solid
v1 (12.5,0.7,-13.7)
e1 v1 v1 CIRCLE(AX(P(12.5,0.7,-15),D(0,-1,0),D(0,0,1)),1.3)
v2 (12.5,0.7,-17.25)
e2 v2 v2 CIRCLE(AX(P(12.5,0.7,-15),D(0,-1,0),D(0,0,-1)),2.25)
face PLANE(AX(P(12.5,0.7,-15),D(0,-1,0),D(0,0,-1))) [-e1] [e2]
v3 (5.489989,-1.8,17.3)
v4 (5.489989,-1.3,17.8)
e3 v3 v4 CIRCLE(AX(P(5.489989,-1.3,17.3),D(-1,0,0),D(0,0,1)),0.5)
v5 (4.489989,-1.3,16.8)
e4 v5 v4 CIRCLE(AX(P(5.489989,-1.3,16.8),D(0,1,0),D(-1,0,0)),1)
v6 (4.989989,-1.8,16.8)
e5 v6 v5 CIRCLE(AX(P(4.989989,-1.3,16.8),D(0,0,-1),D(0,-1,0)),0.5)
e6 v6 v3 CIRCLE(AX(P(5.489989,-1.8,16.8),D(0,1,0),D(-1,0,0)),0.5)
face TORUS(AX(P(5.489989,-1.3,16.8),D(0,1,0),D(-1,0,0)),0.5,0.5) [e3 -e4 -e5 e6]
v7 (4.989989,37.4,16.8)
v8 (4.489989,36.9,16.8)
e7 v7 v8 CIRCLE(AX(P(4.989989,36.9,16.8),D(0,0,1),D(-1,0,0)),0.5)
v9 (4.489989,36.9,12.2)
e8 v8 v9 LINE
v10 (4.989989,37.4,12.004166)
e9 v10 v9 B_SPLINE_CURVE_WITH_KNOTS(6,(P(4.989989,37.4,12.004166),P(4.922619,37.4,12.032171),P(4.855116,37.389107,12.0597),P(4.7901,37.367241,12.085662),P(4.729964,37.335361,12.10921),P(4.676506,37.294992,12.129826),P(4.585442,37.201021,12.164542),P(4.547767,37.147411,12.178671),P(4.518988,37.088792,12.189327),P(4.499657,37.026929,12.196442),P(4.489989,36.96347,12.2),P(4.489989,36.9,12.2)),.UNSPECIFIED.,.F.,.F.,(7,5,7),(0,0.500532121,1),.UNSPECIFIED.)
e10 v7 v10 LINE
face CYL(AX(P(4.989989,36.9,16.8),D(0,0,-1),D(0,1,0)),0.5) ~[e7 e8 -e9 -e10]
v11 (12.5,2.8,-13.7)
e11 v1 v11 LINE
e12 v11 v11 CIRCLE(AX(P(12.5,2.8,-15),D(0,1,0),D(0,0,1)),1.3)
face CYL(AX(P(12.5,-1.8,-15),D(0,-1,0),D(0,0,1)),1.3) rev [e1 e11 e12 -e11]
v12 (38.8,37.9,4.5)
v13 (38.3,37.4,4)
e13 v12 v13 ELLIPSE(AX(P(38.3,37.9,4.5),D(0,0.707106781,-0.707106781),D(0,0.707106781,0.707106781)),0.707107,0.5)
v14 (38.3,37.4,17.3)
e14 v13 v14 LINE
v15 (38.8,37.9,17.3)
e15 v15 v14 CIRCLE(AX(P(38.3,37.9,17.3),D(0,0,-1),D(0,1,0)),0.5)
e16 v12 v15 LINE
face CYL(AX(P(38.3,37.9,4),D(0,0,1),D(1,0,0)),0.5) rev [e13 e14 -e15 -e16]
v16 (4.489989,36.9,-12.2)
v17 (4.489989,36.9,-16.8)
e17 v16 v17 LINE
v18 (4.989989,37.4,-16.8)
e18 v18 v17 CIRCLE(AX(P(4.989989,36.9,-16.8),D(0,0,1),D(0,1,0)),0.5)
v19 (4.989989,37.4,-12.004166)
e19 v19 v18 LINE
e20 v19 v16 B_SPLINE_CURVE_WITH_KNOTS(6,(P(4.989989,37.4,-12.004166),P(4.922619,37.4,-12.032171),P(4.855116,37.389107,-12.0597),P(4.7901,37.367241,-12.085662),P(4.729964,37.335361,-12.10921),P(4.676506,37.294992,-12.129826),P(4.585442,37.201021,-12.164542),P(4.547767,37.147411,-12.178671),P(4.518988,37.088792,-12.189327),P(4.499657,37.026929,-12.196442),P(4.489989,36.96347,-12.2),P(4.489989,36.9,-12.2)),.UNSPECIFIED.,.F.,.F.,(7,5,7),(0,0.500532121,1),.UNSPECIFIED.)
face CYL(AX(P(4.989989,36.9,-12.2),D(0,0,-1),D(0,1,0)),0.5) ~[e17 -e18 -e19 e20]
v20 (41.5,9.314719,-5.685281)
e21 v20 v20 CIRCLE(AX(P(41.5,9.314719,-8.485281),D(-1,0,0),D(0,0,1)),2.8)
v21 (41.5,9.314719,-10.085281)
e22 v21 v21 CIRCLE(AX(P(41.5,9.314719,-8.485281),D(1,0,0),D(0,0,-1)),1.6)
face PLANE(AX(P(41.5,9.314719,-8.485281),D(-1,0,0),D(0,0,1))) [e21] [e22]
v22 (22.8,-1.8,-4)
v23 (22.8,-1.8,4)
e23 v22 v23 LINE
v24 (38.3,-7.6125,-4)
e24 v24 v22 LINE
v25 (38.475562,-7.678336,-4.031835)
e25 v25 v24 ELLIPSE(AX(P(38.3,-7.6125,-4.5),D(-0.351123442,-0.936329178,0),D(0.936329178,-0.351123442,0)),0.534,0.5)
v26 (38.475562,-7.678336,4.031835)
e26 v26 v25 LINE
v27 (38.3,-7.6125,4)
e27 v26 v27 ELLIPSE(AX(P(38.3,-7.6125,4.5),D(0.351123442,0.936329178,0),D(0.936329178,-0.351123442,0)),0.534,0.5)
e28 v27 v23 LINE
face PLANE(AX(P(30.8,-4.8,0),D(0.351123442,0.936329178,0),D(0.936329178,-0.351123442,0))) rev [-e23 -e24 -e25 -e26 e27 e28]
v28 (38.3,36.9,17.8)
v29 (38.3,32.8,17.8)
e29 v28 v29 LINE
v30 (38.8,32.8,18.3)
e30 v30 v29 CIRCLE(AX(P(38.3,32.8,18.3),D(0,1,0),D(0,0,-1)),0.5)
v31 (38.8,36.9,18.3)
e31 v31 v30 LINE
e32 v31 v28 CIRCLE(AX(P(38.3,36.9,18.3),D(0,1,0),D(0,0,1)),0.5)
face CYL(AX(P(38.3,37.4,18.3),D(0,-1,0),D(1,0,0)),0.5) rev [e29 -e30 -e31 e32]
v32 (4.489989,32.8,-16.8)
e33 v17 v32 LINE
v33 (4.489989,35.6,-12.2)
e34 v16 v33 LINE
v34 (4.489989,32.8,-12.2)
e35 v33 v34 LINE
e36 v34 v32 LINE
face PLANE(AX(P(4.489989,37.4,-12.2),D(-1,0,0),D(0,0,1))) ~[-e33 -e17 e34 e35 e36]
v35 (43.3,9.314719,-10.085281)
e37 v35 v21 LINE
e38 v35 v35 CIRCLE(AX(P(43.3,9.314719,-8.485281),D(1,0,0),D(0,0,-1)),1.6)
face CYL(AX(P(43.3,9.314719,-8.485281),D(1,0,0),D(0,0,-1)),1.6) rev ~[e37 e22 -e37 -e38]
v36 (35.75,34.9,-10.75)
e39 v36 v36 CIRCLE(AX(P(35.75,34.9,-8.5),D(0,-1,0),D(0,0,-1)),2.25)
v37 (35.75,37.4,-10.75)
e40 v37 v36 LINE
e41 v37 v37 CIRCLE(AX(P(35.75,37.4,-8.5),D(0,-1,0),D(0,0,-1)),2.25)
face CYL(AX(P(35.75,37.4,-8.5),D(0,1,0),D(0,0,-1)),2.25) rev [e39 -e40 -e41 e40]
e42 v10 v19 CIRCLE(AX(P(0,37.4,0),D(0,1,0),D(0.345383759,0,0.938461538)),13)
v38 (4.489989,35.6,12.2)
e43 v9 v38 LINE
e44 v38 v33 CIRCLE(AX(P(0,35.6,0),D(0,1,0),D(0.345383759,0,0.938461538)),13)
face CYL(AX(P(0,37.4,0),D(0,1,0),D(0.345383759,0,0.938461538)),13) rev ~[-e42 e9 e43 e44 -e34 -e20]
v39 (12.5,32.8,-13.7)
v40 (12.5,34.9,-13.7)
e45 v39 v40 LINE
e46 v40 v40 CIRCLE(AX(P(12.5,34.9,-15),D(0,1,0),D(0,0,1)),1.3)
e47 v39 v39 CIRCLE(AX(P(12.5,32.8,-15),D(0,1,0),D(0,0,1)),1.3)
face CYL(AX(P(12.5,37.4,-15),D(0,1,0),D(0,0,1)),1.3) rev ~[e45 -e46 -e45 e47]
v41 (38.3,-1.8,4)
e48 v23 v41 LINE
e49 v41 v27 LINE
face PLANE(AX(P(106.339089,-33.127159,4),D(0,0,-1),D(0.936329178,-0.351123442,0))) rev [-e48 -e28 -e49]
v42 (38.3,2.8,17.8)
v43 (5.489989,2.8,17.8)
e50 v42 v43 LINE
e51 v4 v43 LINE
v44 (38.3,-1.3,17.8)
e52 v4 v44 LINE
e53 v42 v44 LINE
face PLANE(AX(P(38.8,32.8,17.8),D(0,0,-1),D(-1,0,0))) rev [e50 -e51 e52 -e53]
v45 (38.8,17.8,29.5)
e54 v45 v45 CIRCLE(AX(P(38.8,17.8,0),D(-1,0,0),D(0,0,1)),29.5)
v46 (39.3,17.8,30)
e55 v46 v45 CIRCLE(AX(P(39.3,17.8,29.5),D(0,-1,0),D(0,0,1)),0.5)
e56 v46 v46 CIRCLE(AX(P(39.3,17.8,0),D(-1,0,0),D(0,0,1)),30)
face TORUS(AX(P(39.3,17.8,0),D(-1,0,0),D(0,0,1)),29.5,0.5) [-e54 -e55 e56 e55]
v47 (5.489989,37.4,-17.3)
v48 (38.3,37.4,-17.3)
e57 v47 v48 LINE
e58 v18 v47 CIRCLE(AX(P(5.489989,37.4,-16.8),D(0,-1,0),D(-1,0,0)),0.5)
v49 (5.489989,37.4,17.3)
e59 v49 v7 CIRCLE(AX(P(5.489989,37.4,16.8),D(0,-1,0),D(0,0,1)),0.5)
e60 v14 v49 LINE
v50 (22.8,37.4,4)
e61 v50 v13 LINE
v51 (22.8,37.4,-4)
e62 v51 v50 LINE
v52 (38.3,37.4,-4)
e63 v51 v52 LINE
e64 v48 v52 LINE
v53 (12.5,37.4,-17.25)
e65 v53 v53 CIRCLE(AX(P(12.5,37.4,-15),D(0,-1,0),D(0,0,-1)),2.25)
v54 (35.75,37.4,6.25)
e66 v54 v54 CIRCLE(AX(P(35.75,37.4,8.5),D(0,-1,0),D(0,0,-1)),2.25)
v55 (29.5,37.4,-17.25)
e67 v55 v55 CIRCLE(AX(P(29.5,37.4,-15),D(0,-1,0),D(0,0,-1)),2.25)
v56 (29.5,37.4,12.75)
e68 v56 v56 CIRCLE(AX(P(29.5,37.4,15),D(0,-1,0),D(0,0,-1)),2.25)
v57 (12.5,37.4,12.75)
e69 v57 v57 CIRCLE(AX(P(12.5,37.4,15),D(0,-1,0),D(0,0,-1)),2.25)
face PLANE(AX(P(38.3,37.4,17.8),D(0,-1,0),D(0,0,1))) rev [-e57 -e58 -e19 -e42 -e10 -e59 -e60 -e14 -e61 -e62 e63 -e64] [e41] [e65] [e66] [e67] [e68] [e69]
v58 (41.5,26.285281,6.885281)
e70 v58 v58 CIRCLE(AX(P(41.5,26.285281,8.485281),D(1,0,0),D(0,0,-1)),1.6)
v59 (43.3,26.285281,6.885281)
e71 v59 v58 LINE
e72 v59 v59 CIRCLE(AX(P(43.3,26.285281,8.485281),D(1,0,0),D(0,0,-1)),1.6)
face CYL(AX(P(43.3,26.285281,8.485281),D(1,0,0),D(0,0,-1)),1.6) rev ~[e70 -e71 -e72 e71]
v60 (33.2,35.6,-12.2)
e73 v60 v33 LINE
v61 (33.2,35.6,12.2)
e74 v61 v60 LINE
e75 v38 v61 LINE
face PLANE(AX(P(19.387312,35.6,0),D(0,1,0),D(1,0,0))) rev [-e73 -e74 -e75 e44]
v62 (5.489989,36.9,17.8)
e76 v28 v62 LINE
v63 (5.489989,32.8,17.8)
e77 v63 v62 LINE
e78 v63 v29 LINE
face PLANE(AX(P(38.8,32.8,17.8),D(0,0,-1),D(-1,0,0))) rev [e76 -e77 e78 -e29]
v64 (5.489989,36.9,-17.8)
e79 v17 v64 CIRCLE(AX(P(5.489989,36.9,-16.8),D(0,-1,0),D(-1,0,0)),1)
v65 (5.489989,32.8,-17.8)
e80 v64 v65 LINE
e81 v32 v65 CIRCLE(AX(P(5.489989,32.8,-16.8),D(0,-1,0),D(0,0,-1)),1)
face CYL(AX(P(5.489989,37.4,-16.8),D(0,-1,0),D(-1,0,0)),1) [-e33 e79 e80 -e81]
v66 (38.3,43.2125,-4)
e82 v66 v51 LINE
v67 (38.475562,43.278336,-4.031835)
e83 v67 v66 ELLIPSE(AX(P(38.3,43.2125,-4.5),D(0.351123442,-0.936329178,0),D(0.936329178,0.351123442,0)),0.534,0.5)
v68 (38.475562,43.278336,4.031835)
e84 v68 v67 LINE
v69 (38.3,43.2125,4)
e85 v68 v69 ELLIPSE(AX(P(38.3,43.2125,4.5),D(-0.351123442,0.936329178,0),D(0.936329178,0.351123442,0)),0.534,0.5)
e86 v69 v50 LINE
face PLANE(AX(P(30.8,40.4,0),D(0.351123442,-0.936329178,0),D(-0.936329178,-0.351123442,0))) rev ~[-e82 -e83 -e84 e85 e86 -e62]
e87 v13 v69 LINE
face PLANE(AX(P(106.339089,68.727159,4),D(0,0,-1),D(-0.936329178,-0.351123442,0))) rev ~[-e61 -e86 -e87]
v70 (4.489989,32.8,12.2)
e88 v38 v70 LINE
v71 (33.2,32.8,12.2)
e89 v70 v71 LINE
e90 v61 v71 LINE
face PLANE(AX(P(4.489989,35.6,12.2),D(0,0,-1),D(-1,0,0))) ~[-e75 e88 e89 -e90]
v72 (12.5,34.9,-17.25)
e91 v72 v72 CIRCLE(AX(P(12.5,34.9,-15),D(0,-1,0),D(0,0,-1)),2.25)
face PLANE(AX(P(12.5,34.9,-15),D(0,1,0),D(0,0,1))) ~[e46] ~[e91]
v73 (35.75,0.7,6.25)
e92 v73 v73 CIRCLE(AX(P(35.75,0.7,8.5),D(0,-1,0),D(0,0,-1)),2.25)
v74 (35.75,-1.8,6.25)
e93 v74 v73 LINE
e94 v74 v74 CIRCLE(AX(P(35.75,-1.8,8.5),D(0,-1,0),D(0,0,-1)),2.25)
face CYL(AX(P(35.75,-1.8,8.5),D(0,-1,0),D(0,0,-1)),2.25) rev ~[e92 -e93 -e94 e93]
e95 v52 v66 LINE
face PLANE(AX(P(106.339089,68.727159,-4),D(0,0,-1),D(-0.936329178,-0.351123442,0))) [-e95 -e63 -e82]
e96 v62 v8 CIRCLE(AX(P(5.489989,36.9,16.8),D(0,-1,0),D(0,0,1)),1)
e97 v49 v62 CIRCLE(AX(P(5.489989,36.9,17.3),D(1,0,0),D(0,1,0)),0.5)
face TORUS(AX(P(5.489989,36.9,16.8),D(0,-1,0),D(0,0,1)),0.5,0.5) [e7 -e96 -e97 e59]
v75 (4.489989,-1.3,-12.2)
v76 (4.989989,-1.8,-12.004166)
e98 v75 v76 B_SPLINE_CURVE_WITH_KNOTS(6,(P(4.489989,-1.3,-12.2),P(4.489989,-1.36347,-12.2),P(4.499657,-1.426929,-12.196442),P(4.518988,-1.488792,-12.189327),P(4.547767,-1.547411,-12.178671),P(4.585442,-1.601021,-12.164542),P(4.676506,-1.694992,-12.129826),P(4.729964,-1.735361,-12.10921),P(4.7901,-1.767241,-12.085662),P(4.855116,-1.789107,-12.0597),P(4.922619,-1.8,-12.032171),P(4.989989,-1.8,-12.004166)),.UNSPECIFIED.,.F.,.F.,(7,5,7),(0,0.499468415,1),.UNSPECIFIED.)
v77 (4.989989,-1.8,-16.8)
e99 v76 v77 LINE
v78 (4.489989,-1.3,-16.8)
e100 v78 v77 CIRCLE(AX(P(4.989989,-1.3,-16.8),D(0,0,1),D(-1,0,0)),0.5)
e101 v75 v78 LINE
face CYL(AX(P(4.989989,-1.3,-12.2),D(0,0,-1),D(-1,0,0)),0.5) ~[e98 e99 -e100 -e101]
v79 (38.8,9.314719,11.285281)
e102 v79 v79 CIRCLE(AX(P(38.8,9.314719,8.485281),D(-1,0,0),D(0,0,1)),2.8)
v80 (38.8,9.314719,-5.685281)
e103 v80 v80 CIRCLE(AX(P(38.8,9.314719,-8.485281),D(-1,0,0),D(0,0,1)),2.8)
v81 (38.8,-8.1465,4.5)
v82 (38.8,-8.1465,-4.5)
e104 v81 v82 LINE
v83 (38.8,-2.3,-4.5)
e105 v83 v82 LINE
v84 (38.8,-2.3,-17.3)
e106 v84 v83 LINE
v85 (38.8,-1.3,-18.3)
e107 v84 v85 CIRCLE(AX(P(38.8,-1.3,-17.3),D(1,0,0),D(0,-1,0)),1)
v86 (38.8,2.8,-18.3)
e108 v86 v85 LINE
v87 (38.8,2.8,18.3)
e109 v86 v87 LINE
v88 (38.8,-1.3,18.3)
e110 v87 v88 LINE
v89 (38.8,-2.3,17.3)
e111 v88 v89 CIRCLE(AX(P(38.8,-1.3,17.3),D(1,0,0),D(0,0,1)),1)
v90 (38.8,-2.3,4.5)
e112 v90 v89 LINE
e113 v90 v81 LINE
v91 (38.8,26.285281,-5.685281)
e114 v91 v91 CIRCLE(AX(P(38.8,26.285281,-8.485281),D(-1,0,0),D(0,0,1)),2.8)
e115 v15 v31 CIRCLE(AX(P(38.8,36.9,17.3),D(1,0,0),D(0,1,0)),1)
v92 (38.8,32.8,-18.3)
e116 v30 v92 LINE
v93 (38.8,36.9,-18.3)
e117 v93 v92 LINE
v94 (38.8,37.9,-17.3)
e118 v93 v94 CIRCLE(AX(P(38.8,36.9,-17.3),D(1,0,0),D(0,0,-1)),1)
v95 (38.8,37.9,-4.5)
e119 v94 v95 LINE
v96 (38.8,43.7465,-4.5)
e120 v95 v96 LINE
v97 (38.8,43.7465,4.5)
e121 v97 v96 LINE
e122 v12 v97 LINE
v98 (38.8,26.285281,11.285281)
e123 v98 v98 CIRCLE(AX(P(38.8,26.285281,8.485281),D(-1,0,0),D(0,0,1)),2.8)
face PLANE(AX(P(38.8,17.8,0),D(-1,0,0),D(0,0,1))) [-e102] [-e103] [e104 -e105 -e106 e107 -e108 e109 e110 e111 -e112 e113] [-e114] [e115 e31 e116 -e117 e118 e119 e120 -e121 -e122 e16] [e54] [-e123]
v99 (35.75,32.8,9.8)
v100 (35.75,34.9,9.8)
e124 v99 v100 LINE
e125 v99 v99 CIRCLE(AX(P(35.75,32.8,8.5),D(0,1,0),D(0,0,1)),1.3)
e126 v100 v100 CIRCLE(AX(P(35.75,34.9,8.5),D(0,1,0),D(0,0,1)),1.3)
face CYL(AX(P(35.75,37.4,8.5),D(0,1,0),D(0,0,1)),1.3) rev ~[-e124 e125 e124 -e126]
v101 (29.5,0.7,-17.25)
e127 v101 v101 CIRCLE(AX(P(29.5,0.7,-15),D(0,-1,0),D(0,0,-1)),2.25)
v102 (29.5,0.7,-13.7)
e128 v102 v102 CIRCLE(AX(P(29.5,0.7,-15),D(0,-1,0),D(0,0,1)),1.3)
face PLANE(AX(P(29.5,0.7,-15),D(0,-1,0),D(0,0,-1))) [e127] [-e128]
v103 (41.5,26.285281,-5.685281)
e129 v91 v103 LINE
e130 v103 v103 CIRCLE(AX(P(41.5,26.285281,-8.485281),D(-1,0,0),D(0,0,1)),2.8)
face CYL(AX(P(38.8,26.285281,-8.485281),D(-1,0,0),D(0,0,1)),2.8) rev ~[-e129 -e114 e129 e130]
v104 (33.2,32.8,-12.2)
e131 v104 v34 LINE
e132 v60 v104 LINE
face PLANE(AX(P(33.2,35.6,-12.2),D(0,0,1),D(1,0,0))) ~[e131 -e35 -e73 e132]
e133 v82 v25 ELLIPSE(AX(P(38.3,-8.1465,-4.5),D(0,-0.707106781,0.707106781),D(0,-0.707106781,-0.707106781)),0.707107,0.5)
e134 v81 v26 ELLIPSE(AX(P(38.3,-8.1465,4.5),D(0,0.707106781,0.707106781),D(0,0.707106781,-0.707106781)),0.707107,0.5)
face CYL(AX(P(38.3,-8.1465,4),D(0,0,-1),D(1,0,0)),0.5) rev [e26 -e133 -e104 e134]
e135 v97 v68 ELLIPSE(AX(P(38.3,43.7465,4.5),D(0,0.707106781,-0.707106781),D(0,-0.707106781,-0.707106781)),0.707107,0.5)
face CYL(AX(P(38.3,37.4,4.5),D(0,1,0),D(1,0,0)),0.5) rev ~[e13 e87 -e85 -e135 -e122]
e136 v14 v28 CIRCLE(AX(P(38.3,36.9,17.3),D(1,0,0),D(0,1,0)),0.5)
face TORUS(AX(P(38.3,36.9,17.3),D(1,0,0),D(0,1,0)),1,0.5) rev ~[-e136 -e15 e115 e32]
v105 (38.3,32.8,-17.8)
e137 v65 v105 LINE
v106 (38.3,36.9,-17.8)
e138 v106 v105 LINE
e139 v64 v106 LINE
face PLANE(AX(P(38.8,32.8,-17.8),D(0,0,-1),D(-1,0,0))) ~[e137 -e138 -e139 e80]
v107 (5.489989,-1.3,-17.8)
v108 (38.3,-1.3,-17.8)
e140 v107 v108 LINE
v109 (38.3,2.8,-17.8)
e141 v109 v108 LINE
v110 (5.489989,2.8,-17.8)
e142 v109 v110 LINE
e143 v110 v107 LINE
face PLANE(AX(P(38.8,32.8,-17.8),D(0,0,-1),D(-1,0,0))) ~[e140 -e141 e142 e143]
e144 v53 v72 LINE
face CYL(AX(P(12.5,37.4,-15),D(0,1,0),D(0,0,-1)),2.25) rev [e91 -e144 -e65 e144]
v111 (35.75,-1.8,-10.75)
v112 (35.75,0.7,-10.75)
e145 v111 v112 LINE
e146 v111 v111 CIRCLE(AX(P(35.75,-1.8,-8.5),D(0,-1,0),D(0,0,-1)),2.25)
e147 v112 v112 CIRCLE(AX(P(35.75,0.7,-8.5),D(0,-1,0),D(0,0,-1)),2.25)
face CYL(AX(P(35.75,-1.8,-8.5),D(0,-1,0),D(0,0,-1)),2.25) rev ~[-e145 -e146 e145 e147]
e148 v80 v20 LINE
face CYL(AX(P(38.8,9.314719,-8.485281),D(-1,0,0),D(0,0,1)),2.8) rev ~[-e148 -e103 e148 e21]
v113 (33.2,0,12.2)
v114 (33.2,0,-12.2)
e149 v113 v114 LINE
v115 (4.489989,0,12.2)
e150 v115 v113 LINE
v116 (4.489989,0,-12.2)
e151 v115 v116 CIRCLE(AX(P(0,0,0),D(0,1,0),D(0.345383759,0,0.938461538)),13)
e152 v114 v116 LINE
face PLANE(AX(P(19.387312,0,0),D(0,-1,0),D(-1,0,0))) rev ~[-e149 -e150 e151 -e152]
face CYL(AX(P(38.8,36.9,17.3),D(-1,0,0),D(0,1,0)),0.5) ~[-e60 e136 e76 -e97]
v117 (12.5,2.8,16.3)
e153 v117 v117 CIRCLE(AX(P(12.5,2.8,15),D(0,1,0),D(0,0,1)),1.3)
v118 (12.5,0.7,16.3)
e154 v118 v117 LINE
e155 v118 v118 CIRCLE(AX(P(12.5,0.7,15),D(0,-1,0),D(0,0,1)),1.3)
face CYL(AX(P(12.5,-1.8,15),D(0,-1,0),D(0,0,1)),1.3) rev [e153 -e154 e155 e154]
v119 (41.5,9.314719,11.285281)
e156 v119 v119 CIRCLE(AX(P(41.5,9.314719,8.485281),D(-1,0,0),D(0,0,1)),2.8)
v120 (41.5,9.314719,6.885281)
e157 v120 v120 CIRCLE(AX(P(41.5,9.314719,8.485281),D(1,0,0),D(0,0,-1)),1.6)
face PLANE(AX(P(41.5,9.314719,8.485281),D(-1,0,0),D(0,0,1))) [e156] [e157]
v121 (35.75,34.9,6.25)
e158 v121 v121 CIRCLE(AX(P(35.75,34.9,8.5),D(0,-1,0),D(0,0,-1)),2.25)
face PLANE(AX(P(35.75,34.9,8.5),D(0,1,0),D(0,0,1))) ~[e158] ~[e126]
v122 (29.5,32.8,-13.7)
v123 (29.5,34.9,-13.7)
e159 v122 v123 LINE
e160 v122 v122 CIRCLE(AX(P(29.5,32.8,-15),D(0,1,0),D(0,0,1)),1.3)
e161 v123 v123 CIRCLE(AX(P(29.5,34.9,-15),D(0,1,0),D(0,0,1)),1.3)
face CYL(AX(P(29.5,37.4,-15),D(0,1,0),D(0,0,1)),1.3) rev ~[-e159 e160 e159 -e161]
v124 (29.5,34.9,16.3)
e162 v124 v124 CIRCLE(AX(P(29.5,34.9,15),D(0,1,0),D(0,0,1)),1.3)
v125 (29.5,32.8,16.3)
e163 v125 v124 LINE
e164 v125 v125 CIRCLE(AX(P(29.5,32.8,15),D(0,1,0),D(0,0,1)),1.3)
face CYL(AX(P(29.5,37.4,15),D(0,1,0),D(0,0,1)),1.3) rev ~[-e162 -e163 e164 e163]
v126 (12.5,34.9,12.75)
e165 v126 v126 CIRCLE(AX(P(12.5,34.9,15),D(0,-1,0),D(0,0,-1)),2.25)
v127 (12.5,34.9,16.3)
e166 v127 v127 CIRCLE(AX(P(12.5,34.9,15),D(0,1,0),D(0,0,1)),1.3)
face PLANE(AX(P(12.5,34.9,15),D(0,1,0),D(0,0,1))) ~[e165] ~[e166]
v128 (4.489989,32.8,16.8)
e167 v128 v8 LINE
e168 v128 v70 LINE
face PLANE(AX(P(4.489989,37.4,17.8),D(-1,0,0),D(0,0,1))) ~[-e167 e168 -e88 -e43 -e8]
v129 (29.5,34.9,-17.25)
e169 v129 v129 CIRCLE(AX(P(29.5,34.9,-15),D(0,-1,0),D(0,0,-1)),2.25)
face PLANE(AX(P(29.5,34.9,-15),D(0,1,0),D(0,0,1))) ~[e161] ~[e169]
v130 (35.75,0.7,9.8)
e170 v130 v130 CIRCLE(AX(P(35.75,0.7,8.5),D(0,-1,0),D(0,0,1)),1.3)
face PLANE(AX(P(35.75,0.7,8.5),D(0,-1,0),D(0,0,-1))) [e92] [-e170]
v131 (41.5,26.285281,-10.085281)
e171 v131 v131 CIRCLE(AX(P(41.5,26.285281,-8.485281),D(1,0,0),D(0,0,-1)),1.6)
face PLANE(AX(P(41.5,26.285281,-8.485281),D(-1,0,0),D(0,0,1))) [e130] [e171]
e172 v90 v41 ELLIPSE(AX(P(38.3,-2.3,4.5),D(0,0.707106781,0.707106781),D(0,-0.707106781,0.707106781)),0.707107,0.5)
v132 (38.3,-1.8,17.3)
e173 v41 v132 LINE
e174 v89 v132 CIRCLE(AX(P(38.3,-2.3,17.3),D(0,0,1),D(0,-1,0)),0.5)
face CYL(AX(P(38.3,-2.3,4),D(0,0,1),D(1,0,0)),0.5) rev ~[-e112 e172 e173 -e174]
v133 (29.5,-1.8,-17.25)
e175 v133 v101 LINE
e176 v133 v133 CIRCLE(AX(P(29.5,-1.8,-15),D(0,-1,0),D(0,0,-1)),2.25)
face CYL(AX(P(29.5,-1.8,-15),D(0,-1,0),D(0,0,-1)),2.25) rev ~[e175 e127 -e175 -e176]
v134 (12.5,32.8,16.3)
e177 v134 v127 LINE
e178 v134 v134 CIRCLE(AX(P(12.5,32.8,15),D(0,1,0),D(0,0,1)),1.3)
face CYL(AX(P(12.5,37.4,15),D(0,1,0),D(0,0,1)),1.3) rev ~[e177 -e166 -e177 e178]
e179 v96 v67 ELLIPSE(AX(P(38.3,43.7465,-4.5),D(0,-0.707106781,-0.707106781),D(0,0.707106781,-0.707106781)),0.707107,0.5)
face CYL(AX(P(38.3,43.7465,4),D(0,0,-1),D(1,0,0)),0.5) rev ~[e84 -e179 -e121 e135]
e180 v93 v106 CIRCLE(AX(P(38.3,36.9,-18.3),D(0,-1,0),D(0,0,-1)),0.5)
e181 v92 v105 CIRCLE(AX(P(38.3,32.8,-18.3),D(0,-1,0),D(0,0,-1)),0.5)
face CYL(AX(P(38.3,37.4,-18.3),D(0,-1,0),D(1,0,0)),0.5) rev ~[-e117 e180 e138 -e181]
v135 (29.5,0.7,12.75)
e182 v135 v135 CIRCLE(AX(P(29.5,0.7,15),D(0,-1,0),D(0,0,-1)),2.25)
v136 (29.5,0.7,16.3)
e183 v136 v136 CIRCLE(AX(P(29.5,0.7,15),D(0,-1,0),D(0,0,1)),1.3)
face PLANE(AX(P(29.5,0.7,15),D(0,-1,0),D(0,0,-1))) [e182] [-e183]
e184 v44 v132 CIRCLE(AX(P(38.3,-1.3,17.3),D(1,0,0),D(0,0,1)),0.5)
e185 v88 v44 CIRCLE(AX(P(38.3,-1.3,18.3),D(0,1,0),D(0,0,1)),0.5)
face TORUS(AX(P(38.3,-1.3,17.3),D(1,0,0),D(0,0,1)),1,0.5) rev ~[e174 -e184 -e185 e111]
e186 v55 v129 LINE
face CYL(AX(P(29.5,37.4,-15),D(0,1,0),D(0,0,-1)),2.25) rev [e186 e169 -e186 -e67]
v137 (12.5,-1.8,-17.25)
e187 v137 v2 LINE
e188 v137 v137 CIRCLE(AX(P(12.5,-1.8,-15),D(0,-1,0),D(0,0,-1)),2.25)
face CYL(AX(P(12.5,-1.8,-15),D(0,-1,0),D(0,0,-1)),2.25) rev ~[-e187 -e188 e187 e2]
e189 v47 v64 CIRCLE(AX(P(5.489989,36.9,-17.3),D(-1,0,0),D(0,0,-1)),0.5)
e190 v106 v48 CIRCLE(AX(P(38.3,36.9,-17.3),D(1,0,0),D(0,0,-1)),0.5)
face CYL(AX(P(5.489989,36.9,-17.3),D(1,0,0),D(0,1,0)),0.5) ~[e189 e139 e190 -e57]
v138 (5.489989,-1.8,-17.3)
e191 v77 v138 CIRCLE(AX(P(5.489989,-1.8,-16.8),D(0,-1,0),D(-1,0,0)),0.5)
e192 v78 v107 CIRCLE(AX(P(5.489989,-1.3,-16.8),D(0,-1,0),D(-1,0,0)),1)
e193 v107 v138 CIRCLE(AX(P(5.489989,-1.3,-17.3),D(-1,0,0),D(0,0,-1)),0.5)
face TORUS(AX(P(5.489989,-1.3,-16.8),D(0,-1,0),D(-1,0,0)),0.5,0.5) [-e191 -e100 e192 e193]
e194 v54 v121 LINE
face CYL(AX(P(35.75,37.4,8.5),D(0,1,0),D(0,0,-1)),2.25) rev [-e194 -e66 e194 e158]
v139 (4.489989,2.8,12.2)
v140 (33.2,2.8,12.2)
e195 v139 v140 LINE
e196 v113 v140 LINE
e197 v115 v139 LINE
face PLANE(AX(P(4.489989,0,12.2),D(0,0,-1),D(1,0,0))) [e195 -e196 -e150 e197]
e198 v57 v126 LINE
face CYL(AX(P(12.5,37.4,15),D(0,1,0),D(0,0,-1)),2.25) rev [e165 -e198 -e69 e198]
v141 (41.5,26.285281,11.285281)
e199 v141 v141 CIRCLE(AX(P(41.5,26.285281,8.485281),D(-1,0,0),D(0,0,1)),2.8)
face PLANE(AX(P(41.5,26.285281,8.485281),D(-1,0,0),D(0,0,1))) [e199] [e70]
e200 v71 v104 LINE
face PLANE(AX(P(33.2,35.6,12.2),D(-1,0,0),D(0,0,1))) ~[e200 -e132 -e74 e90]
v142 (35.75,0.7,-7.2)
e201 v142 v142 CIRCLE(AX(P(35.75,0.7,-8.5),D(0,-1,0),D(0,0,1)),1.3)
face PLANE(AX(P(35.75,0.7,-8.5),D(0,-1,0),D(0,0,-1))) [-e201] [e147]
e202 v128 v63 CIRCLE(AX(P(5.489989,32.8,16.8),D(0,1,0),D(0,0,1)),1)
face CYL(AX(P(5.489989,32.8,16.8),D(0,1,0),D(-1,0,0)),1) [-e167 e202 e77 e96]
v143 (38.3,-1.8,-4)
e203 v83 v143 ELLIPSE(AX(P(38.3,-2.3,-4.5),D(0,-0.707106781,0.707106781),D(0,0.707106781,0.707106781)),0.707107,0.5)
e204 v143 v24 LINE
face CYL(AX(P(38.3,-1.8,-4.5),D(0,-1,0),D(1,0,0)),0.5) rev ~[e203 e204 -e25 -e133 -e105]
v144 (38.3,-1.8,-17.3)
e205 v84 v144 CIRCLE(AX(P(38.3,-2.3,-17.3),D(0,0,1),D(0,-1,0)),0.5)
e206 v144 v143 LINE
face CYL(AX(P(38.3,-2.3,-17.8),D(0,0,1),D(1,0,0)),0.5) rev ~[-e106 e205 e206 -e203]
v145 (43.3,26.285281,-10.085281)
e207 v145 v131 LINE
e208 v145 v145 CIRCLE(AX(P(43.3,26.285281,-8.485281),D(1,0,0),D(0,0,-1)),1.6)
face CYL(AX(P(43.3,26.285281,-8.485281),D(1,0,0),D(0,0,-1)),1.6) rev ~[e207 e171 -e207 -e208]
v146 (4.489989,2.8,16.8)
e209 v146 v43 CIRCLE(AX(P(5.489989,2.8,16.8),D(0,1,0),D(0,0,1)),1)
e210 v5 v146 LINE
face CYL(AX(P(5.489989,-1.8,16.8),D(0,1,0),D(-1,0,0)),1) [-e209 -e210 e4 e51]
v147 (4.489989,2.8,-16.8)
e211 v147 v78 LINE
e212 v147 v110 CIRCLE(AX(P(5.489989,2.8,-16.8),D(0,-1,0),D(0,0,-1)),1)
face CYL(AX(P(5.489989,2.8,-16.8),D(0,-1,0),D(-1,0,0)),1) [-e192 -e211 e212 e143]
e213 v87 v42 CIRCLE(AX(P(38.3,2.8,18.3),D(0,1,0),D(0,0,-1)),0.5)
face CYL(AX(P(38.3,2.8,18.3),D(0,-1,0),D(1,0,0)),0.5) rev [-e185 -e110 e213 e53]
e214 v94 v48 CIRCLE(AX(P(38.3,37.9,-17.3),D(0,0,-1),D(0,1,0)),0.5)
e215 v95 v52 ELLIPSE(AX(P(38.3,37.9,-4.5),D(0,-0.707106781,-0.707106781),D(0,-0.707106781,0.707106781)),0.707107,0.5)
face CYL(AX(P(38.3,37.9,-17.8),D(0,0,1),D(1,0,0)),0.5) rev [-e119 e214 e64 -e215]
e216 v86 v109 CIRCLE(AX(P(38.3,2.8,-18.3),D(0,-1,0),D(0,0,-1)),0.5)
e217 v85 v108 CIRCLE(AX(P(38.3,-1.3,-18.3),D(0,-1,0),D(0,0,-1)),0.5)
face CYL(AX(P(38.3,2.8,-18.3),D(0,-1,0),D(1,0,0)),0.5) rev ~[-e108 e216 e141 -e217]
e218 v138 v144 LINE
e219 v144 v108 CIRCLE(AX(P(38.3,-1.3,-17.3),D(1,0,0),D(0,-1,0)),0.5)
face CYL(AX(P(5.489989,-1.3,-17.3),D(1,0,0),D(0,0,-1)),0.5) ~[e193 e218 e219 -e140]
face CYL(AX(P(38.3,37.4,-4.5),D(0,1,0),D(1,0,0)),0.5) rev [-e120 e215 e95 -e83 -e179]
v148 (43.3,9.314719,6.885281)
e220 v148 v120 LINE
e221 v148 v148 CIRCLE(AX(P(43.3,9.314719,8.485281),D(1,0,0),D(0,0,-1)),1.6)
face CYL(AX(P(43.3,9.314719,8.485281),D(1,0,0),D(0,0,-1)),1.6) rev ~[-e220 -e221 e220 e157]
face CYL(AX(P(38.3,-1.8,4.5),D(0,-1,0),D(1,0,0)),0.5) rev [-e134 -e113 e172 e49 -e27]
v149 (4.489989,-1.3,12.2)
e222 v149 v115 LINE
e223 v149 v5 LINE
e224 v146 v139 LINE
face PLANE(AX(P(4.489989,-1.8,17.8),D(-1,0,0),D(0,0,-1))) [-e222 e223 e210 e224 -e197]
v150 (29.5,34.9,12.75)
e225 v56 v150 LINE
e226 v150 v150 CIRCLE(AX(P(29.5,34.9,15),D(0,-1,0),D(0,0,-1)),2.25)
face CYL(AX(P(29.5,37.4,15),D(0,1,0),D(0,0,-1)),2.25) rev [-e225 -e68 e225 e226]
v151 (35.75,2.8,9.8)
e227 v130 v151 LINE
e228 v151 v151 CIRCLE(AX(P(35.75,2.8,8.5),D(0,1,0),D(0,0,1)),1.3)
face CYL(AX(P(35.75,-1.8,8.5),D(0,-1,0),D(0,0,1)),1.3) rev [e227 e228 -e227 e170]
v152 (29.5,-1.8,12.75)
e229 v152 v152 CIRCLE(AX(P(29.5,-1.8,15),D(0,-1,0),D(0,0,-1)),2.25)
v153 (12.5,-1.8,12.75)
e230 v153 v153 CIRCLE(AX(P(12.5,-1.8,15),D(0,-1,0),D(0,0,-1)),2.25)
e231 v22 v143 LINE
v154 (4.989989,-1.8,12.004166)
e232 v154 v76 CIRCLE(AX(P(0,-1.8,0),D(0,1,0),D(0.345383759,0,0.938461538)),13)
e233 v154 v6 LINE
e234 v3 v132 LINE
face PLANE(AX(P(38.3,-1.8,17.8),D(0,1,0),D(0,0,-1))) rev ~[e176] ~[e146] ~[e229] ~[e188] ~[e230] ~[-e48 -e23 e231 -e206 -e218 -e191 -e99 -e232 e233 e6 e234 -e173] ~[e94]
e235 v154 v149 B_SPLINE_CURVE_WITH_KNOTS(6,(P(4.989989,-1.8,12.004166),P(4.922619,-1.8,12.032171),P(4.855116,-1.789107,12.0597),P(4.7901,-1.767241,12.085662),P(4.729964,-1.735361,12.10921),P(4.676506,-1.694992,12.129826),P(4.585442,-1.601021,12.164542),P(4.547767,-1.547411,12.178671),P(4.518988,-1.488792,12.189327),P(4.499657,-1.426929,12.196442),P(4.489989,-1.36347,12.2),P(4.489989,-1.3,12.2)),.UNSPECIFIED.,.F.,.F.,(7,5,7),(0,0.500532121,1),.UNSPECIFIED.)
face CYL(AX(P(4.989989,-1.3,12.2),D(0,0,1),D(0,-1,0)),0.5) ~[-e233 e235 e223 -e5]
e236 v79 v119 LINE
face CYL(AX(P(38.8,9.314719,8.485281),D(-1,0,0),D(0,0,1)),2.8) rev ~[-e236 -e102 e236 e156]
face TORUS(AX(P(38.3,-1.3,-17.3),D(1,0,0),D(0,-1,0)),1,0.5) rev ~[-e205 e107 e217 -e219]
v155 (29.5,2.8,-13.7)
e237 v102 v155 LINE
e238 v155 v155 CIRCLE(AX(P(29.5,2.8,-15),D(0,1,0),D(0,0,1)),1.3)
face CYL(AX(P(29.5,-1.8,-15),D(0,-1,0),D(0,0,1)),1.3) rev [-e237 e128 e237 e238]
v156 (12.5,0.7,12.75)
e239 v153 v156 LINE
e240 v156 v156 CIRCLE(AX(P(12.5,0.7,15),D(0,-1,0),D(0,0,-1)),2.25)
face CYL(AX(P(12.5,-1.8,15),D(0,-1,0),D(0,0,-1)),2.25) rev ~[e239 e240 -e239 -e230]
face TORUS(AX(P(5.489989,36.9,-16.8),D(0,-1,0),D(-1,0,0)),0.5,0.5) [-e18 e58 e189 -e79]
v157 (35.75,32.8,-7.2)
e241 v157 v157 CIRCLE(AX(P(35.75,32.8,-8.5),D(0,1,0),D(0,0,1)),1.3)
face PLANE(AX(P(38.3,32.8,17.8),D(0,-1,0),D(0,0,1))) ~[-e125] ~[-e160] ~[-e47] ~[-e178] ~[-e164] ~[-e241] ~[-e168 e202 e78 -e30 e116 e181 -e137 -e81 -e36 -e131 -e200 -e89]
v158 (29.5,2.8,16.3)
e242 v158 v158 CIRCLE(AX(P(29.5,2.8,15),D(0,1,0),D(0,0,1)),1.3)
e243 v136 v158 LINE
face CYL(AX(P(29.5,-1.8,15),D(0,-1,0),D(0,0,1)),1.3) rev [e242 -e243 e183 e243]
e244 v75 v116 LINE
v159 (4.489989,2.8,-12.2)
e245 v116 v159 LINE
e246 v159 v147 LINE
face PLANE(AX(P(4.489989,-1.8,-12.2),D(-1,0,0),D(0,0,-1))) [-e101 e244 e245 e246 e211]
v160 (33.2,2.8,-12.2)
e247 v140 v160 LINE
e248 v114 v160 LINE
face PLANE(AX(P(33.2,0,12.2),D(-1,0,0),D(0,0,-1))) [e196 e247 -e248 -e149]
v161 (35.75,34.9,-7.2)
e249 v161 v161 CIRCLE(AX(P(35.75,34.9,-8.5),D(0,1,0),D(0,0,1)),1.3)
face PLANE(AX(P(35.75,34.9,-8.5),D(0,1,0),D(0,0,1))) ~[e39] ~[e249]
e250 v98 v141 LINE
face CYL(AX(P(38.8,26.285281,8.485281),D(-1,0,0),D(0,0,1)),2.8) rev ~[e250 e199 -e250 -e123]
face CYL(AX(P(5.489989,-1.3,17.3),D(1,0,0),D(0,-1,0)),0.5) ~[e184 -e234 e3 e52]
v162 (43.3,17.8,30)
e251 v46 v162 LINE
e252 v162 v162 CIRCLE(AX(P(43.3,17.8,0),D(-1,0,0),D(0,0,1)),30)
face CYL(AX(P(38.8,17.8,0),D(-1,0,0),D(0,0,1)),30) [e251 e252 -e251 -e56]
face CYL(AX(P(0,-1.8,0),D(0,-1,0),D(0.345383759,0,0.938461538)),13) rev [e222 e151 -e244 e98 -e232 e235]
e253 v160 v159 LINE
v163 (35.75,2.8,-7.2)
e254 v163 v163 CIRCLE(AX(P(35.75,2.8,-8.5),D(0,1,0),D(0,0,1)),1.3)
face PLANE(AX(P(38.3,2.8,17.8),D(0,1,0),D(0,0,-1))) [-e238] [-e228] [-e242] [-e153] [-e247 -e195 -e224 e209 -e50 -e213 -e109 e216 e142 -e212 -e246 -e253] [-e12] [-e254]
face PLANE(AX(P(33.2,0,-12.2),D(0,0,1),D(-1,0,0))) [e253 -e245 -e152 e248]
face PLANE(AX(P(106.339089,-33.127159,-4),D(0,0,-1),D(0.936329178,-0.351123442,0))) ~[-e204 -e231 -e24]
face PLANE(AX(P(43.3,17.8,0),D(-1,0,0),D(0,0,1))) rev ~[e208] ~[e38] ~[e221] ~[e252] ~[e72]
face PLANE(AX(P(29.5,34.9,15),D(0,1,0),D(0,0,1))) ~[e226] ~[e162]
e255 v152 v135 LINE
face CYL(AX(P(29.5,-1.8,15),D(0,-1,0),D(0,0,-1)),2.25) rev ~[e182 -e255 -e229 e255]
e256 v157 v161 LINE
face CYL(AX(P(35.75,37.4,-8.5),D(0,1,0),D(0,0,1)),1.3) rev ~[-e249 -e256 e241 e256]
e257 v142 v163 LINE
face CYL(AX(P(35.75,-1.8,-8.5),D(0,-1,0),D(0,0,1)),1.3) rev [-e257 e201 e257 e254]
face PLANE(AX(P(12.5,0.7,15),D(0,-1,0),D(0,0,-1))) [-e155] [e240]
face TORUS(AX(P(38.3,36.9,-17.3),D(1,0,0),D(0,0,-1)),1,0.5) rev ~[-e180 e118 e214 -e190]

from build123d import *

# Parameters (mm, degrees)
SKETCH1_R           = 1.3
BOSS_EXTRUDE1_DEPTH = 2.8
BOSS_EXTRUDE2_START = -1.8
SKETCH2_R           = 1.3
BOSS_EXTRUDE2_DEPTH = 1.8
SKETCH3_R           = 2.25
CUT_EXTRUDE1_DEPTH  = 2.5
SKETCH4_W           = 35.6
SKETCH4_H           = 4.6
BOSS_EXTRUDE3_DEPTH = 5
SKETCH5_W           = 4.5
SKETCH5_H           = 35.6
BOSS_EXTRUDE4_DEPTH = 15
FILLET1_R           = 1
CUT_EXTRUDE4_DEPTH  = 3.5
SKETCH10_R          = 30
BOSS_EXTRUDE6_DEPTH = 4.5
SKETCH6_R           = 1.6
CUT_EXTRUDE2_DEPTH  = 69.491291157
SKETCH8_R           = 2.8
CUT_EXTRUDE3_DEPTH  = 2.7
RIB1_REACH          = 73.132
SKETCH11_WALL_W     = 161.35156572
SKETCH11_WALL_H     = 8
FILLET2_R           = 0.5
FILLET3_R           = 0.5


with BuildPart() as part:
    # Sketch1 → Boss-Extrude1 (new body)
    with BuildSketch(Plane(origin=(0, 0, 0), x_dir=(1, 0, 0), z_dir=(0, 1, 0))):
        Polygon((4.489988864, 12.2), (4.489988864, 17.8), (38.3, 17.8), (38.3, -17.8), (4.489988864, -17.8), (4.489988864, -12.2), (33.2, -12.2), (33.2, 12.2), align=None)
        with Locations(Location((12.5, 15, 0), (0, 0, 270))):
            Circle(SKETCH1_R, mode=Mode.SUBTRACT)
        with Locations(Location((29.5, 15, 0), (0, 0, 270))):
            Circle(SKETCH1_R, mode=Mode.SUBTRACT)
        with Locations(Location((12.5, -15, 0), (0, 0, 270))):
            Circle(SKETCH1_R, mode=Mode.SUBTRACT)
        with Locations(Location((29.5, -15, 0), (0, 0, 270))):
            Circle(SKETCH1_R, mode=Mode.SUBTRACT)
        with Locations(Location((35.75, -8.5, 0), (0, 0, 270))):
            Circle(SKETCH1_R, mode=Mode.SUBTRACT)
        with Locations(Location((35.75, 8.5, 0), (0, 0, 270))):
            Circle(SKETCH1_R, mode=Mode.SUBTRACT)
    boss_extrude1 = extrude(amount=BOSS_EXTRUDE1_DEPTH)

    # Sketch2 → Boss-Extrude2 (add)
    # profile 1 of 2: a face of its own
    with BuildSketch(Plane(origin=(0, 0, 0), x_dir=(1, 0, 0), z_dir=(0, 1, 0)).offset(BOSS_EXTRUDE2_START)):
        with BuildLine():
            ThreePointArc((4.489988864, -12.2), (13, 0), (4.489988864, 12.2))
            Line((4.489988864, 12.2), (33.2, 12.2))
            Line((33.2, 12.2), (33.2, -12.2))
            Line((33.2, -12.2), (4.489988864, -12.2))
        make_face()
    # profile 2 of 2: a face of its own
    with BuildSketch(Plane(origin=(0, 0, 0), x_dir=(1, 0, 0), z_dir=(0, 1, 0)).offset(BOSS_EXTRUDE2_START)):
        Polygon((4.489988864, 12.2), (4.489988864, 17.8), (38.3, 17.8), (38.3, -17.8), (4.489988864, -17.8), (4.489988864, -12.2), (33.2, -12.2), (33.2, 12.2), align=None)
        with Locations(Location((12.5, -15, 0), (0, 0, 270))):
            Circle(SKETCH2_R, mode=Mode.SUBTRACT)
        with Locations(Location((29.5, -15, 0), (0, 0, 270))):
            Circle(SKETCH2_R, mode=Mode.SUBTRACT)
        with Locations(Location((35.75, -8.5, 0), (0, 0, 270))):
            Circle(SKETCH2_R, mode=Mode.SUBTRACT)
        with Locations(Location((35.75, 8.5, 0), (0, 0, 270))):
            Circle(SKETCH2_R, mode=Mode.SUBTRACT)
        with Locations(Location((29.5, 15, 0), (0, 0, 270))):
            Circle(SKETCH2_R, mode=Mode.SUBTRACT)
        with Locations(Location((12.5, 15, 0), (0, 0, 270))):
            Circle(SKETCH2_R, mode=Mode.SUBTRACT)
    boss_extrude2 = extrude(amount=BOSS_EXTRUDE2_DEPTH)

    # Sketch3 → Cut-Extrude1 (cut)
    with BuildSketch(Plane.XZ.offset(1.8)):
        with Locations(Location((12.5, 15, 0), (0, 0, 270))):
            Circle(SKETCH3_R)
        with Locations(Location((29.5, 15, 0), (0, 0, 270))):
            Circle(SKETCH3_R)
        with Locations(Location((29.5, -15, 0), (0, 0, 270))):
            Circle(SKETCH3_R)
        with Locations(Location((12.5, -15, 0), (0, 0, 270))):
            Circle(SKETCH3_R)
        with Locations(Location((35.75, 8.5, 0), (0, 0, 270))):
            Circle(SKETCH3_R)
        with Locations(Location((35.75, -8.5, 0), (0, 0, 270))):
            Circle(SKETCH3_R)
    cut_extrude1 = extrude(amount=-CUT_EXTRUDE1_DEPTH, mode=Mode.SUBTRACT)

    # Sketch4 → Boss-Extrude3 (add)
    with BuildSketch(Plane(origin=(38.3, 0, 0), x_dir=(0, 0, -1), z_dir=(1, 0, 0))):
        with Locations((0, 0.5)):
            Rectangle(SKETCH4_W, SKETCH4_H)
    boss_extrude3 = extrude(amount=BOSS_EXTRUDE3_DEPTH)

    # Sketch5 → Boss-Extrude4 (add)
    with BuildSketch(Plane(origin=(0, 2.8, 0), x_dir=(1, 0, 0), z_dir=(0, 1, 0))):
        with Locations((41.05, 0)):
            Rectangle(SKETCH5_W, SKETCH5_H)
    boss_extrude4 = extrude(amount=BOSS_EXTRUDE4_DEPTH)

    # Mirror3: Boss-Extrude1, Boss-Extrude2, Cut-Extrude1, Boss-Extrude3, Boss-Extrude4 across plane
    add(boss_extrude1.mirror(Plane.ZX.offset(17.8)))
    add(boss_extrude2.mirror(Plane.ZX.offset(17.8)))
    add(cut_extrude1.mirror(Plane.ZX.offset(17.8)), mode=Mode.SUBTRACT)
    add(boss_extrude3.mirror(Plane.ZX.offset(17.8)))
    add(boss_extrude4.mirror(Plane.ZX.offset(17.8)))

    # Fillet1
    fillet1_edges = [part.edges().sort_by_distance(p)[0] for p in [
        (4.489988864, 35.1, -17.8),
        (4.489988864, 35.1, 17.8),
        (4.489988864, 0.5, 17.8),
        (4.489988864, 0.5, -17.8),
    ]]
    fillet(fillet1_edges, radius=FILLET1_R)

    # Sketch9 → Cut-Extrude4 (cut)
    with BuildSketch(Plane(origin=(43.3, 0, 0), x_dir=(0, 0, -1), z_dir=(1, 0, 0))):
        with BuildLine():
            Line((-2.05, 21.85), (2.05, 21.85))
            ThreePointArc((2.05, 21.85), (3.464213562, 21.264213562), (4.05, 19.85))
            Line((4.05, 19.85), (4.05, 15.75))
            ThreePointArc((4.05, 15.75), (3.464213562, 14.335786438), (2.05, 13.75))
            Line((2.05, 13.75), (-2.05, 13.75))
            ThreePointArc((-2.05, 13.75), (-3.464213562, 14.335786438), (-4.05, 15.75))
            Line((-4.05, 15.75), (-4.05, 19.85))
            ThreePointArc((-4.05, 19.85), (-3.464213562, 21.264213562), (-2.05, 21.85))
        make_face()
    extrude(amount=-CUT_EXTRUDE4_DEPTH, mode=Mode.SUBTRACT)

    # Sketch10 → Boss-Extrude6 (add)
    with BuildSketch(Plane.ZY.offset(-38.8)):
        with Locations((0, 17.8)):
            Circle(SKETCH10_R)
    extrude(amount=-BOSS_EXTRUDE6_DEPTH)

    # Sketch6 → Cut-Extrude2 (cut, through all)
    with BuildSketch(Plane(origin=(43.3, 0, 0), x_dir=(0, 0, -1), z_dir=(1, 0, 0))):
        with Locations((-8.485281374, 26.285281374)):
            Circle(SKETCH6_R)
        with Locations((8.485281374, 26.285281374)):
            Circle(SKETCH6_R)
        with Locations((8.485281374, 9.314718626)):
            Circle(SKETCH6_R)
        with Locations((-8.485281374, 9.314718626)):
            Circle(SKETCH6_R)
    extrude(amount=-CUT_EXTRUDE2_DEPTH, mode=Mode.SUBTRACT)

    # Sketch8 → Cut-Extrude3 (cut)
    with BuildSketch(Plane.ZY.offset(-38.8)):
        with Locations((-8.485281374, 26.285281374)):
            Circle(SKETCH8_R)
        with Locations((8.485281374, 26.285281374)):
            Circle(SKETCH8_R)
        with Locations((8.485281374, 9.314718626)):
            Circle(SKETCH8_R)
        with Locations((-8.485281374, 9.314718626)):
            Circle(SKETCH8_R)
    extrude(amount=-CUT_EXTRUDE3_DEPTH, mode=Mode.SUBTRACT)

    # Sketch11 wall → Rib1 (add, up to next)
    with BuildSketch(Plane(origin=(30.8, 40.4, 0), x_dir=(-0.936329177569, -0.351123441588, 0), z_dir=(0.351123441588, -0.936329177569, 0)), mode=Mode.PRIVATE) as rib1_sk1:
        Rectangle(SKETCH11_WALL_W, SKETCH11_WALL_H)
    rib1_tool1 = extrude(rib1_sk1.sketch, amount=RIB1_REACH, mode=Mode.PRIVATE) - part.part
    rib1 = rib1_tool1.solids().sort_by_distance((30.8, 40.4, 0))[0]
    add(rib1)

    # Mirror4: Rib1 across plane
    add(rib1.mirror(Plane.ZX.offset(17.8)))

    # Fillet2
    fillet2_edges = [part.edges().sort_by_distance(p)[0] for p in [
        (38.8, 17.8, -30),
    ]]
    fillet(fillet2_edges, radius=FILLET2_R)

    # Fillet3
    fillet3_edges = [part.edges().sort_by_distance(p)[0] for p in [
        (4.489988864, 37.4, -14.5),
        (22.144994432, -1.8, -17.8),
        (22.144994432, -1.8, 17.8),
        (4.489988864, -1.8, 14.5),
        (4.782882083, -1.8, 17.507106781),
        (4.782882083, -1.8, -17.507106781),
        (22.144994432, 37.4, -17.8),
        (4.489988864, 37.4, 14.5),
        (22.144994432, 37.4, 17.8),
        (4.782882083, 37.4, 17.507106781),
        (4.782882083, 37.4, -17.507106781),
        (38.8, 37.4, 10.9),
        (38.8, -1.8, -10.9),
        (38.8, 0.5, 17.8),
        (38.8, 35.1, 17.8),
        (38.8, 0.5, -17.8),
        (38.8, 35.1, -17.8),
        (38.8, 37.4, -10.9),
        (38.8, 43.4, 0),
        (38.8, 40.4, 4),
        (38.8, 40.4, -4),
        (38.8, -1.8, 10.9),
        (38.8, -7.8, 0),
        (38.8, -4.8, 4),
        (38.8, -4.8, -4),
        (4.489988864, -1.8, -14.5),
    ]]
    fillet(fillet3_edges, radius=FILLET3_R)


solid = part.part
